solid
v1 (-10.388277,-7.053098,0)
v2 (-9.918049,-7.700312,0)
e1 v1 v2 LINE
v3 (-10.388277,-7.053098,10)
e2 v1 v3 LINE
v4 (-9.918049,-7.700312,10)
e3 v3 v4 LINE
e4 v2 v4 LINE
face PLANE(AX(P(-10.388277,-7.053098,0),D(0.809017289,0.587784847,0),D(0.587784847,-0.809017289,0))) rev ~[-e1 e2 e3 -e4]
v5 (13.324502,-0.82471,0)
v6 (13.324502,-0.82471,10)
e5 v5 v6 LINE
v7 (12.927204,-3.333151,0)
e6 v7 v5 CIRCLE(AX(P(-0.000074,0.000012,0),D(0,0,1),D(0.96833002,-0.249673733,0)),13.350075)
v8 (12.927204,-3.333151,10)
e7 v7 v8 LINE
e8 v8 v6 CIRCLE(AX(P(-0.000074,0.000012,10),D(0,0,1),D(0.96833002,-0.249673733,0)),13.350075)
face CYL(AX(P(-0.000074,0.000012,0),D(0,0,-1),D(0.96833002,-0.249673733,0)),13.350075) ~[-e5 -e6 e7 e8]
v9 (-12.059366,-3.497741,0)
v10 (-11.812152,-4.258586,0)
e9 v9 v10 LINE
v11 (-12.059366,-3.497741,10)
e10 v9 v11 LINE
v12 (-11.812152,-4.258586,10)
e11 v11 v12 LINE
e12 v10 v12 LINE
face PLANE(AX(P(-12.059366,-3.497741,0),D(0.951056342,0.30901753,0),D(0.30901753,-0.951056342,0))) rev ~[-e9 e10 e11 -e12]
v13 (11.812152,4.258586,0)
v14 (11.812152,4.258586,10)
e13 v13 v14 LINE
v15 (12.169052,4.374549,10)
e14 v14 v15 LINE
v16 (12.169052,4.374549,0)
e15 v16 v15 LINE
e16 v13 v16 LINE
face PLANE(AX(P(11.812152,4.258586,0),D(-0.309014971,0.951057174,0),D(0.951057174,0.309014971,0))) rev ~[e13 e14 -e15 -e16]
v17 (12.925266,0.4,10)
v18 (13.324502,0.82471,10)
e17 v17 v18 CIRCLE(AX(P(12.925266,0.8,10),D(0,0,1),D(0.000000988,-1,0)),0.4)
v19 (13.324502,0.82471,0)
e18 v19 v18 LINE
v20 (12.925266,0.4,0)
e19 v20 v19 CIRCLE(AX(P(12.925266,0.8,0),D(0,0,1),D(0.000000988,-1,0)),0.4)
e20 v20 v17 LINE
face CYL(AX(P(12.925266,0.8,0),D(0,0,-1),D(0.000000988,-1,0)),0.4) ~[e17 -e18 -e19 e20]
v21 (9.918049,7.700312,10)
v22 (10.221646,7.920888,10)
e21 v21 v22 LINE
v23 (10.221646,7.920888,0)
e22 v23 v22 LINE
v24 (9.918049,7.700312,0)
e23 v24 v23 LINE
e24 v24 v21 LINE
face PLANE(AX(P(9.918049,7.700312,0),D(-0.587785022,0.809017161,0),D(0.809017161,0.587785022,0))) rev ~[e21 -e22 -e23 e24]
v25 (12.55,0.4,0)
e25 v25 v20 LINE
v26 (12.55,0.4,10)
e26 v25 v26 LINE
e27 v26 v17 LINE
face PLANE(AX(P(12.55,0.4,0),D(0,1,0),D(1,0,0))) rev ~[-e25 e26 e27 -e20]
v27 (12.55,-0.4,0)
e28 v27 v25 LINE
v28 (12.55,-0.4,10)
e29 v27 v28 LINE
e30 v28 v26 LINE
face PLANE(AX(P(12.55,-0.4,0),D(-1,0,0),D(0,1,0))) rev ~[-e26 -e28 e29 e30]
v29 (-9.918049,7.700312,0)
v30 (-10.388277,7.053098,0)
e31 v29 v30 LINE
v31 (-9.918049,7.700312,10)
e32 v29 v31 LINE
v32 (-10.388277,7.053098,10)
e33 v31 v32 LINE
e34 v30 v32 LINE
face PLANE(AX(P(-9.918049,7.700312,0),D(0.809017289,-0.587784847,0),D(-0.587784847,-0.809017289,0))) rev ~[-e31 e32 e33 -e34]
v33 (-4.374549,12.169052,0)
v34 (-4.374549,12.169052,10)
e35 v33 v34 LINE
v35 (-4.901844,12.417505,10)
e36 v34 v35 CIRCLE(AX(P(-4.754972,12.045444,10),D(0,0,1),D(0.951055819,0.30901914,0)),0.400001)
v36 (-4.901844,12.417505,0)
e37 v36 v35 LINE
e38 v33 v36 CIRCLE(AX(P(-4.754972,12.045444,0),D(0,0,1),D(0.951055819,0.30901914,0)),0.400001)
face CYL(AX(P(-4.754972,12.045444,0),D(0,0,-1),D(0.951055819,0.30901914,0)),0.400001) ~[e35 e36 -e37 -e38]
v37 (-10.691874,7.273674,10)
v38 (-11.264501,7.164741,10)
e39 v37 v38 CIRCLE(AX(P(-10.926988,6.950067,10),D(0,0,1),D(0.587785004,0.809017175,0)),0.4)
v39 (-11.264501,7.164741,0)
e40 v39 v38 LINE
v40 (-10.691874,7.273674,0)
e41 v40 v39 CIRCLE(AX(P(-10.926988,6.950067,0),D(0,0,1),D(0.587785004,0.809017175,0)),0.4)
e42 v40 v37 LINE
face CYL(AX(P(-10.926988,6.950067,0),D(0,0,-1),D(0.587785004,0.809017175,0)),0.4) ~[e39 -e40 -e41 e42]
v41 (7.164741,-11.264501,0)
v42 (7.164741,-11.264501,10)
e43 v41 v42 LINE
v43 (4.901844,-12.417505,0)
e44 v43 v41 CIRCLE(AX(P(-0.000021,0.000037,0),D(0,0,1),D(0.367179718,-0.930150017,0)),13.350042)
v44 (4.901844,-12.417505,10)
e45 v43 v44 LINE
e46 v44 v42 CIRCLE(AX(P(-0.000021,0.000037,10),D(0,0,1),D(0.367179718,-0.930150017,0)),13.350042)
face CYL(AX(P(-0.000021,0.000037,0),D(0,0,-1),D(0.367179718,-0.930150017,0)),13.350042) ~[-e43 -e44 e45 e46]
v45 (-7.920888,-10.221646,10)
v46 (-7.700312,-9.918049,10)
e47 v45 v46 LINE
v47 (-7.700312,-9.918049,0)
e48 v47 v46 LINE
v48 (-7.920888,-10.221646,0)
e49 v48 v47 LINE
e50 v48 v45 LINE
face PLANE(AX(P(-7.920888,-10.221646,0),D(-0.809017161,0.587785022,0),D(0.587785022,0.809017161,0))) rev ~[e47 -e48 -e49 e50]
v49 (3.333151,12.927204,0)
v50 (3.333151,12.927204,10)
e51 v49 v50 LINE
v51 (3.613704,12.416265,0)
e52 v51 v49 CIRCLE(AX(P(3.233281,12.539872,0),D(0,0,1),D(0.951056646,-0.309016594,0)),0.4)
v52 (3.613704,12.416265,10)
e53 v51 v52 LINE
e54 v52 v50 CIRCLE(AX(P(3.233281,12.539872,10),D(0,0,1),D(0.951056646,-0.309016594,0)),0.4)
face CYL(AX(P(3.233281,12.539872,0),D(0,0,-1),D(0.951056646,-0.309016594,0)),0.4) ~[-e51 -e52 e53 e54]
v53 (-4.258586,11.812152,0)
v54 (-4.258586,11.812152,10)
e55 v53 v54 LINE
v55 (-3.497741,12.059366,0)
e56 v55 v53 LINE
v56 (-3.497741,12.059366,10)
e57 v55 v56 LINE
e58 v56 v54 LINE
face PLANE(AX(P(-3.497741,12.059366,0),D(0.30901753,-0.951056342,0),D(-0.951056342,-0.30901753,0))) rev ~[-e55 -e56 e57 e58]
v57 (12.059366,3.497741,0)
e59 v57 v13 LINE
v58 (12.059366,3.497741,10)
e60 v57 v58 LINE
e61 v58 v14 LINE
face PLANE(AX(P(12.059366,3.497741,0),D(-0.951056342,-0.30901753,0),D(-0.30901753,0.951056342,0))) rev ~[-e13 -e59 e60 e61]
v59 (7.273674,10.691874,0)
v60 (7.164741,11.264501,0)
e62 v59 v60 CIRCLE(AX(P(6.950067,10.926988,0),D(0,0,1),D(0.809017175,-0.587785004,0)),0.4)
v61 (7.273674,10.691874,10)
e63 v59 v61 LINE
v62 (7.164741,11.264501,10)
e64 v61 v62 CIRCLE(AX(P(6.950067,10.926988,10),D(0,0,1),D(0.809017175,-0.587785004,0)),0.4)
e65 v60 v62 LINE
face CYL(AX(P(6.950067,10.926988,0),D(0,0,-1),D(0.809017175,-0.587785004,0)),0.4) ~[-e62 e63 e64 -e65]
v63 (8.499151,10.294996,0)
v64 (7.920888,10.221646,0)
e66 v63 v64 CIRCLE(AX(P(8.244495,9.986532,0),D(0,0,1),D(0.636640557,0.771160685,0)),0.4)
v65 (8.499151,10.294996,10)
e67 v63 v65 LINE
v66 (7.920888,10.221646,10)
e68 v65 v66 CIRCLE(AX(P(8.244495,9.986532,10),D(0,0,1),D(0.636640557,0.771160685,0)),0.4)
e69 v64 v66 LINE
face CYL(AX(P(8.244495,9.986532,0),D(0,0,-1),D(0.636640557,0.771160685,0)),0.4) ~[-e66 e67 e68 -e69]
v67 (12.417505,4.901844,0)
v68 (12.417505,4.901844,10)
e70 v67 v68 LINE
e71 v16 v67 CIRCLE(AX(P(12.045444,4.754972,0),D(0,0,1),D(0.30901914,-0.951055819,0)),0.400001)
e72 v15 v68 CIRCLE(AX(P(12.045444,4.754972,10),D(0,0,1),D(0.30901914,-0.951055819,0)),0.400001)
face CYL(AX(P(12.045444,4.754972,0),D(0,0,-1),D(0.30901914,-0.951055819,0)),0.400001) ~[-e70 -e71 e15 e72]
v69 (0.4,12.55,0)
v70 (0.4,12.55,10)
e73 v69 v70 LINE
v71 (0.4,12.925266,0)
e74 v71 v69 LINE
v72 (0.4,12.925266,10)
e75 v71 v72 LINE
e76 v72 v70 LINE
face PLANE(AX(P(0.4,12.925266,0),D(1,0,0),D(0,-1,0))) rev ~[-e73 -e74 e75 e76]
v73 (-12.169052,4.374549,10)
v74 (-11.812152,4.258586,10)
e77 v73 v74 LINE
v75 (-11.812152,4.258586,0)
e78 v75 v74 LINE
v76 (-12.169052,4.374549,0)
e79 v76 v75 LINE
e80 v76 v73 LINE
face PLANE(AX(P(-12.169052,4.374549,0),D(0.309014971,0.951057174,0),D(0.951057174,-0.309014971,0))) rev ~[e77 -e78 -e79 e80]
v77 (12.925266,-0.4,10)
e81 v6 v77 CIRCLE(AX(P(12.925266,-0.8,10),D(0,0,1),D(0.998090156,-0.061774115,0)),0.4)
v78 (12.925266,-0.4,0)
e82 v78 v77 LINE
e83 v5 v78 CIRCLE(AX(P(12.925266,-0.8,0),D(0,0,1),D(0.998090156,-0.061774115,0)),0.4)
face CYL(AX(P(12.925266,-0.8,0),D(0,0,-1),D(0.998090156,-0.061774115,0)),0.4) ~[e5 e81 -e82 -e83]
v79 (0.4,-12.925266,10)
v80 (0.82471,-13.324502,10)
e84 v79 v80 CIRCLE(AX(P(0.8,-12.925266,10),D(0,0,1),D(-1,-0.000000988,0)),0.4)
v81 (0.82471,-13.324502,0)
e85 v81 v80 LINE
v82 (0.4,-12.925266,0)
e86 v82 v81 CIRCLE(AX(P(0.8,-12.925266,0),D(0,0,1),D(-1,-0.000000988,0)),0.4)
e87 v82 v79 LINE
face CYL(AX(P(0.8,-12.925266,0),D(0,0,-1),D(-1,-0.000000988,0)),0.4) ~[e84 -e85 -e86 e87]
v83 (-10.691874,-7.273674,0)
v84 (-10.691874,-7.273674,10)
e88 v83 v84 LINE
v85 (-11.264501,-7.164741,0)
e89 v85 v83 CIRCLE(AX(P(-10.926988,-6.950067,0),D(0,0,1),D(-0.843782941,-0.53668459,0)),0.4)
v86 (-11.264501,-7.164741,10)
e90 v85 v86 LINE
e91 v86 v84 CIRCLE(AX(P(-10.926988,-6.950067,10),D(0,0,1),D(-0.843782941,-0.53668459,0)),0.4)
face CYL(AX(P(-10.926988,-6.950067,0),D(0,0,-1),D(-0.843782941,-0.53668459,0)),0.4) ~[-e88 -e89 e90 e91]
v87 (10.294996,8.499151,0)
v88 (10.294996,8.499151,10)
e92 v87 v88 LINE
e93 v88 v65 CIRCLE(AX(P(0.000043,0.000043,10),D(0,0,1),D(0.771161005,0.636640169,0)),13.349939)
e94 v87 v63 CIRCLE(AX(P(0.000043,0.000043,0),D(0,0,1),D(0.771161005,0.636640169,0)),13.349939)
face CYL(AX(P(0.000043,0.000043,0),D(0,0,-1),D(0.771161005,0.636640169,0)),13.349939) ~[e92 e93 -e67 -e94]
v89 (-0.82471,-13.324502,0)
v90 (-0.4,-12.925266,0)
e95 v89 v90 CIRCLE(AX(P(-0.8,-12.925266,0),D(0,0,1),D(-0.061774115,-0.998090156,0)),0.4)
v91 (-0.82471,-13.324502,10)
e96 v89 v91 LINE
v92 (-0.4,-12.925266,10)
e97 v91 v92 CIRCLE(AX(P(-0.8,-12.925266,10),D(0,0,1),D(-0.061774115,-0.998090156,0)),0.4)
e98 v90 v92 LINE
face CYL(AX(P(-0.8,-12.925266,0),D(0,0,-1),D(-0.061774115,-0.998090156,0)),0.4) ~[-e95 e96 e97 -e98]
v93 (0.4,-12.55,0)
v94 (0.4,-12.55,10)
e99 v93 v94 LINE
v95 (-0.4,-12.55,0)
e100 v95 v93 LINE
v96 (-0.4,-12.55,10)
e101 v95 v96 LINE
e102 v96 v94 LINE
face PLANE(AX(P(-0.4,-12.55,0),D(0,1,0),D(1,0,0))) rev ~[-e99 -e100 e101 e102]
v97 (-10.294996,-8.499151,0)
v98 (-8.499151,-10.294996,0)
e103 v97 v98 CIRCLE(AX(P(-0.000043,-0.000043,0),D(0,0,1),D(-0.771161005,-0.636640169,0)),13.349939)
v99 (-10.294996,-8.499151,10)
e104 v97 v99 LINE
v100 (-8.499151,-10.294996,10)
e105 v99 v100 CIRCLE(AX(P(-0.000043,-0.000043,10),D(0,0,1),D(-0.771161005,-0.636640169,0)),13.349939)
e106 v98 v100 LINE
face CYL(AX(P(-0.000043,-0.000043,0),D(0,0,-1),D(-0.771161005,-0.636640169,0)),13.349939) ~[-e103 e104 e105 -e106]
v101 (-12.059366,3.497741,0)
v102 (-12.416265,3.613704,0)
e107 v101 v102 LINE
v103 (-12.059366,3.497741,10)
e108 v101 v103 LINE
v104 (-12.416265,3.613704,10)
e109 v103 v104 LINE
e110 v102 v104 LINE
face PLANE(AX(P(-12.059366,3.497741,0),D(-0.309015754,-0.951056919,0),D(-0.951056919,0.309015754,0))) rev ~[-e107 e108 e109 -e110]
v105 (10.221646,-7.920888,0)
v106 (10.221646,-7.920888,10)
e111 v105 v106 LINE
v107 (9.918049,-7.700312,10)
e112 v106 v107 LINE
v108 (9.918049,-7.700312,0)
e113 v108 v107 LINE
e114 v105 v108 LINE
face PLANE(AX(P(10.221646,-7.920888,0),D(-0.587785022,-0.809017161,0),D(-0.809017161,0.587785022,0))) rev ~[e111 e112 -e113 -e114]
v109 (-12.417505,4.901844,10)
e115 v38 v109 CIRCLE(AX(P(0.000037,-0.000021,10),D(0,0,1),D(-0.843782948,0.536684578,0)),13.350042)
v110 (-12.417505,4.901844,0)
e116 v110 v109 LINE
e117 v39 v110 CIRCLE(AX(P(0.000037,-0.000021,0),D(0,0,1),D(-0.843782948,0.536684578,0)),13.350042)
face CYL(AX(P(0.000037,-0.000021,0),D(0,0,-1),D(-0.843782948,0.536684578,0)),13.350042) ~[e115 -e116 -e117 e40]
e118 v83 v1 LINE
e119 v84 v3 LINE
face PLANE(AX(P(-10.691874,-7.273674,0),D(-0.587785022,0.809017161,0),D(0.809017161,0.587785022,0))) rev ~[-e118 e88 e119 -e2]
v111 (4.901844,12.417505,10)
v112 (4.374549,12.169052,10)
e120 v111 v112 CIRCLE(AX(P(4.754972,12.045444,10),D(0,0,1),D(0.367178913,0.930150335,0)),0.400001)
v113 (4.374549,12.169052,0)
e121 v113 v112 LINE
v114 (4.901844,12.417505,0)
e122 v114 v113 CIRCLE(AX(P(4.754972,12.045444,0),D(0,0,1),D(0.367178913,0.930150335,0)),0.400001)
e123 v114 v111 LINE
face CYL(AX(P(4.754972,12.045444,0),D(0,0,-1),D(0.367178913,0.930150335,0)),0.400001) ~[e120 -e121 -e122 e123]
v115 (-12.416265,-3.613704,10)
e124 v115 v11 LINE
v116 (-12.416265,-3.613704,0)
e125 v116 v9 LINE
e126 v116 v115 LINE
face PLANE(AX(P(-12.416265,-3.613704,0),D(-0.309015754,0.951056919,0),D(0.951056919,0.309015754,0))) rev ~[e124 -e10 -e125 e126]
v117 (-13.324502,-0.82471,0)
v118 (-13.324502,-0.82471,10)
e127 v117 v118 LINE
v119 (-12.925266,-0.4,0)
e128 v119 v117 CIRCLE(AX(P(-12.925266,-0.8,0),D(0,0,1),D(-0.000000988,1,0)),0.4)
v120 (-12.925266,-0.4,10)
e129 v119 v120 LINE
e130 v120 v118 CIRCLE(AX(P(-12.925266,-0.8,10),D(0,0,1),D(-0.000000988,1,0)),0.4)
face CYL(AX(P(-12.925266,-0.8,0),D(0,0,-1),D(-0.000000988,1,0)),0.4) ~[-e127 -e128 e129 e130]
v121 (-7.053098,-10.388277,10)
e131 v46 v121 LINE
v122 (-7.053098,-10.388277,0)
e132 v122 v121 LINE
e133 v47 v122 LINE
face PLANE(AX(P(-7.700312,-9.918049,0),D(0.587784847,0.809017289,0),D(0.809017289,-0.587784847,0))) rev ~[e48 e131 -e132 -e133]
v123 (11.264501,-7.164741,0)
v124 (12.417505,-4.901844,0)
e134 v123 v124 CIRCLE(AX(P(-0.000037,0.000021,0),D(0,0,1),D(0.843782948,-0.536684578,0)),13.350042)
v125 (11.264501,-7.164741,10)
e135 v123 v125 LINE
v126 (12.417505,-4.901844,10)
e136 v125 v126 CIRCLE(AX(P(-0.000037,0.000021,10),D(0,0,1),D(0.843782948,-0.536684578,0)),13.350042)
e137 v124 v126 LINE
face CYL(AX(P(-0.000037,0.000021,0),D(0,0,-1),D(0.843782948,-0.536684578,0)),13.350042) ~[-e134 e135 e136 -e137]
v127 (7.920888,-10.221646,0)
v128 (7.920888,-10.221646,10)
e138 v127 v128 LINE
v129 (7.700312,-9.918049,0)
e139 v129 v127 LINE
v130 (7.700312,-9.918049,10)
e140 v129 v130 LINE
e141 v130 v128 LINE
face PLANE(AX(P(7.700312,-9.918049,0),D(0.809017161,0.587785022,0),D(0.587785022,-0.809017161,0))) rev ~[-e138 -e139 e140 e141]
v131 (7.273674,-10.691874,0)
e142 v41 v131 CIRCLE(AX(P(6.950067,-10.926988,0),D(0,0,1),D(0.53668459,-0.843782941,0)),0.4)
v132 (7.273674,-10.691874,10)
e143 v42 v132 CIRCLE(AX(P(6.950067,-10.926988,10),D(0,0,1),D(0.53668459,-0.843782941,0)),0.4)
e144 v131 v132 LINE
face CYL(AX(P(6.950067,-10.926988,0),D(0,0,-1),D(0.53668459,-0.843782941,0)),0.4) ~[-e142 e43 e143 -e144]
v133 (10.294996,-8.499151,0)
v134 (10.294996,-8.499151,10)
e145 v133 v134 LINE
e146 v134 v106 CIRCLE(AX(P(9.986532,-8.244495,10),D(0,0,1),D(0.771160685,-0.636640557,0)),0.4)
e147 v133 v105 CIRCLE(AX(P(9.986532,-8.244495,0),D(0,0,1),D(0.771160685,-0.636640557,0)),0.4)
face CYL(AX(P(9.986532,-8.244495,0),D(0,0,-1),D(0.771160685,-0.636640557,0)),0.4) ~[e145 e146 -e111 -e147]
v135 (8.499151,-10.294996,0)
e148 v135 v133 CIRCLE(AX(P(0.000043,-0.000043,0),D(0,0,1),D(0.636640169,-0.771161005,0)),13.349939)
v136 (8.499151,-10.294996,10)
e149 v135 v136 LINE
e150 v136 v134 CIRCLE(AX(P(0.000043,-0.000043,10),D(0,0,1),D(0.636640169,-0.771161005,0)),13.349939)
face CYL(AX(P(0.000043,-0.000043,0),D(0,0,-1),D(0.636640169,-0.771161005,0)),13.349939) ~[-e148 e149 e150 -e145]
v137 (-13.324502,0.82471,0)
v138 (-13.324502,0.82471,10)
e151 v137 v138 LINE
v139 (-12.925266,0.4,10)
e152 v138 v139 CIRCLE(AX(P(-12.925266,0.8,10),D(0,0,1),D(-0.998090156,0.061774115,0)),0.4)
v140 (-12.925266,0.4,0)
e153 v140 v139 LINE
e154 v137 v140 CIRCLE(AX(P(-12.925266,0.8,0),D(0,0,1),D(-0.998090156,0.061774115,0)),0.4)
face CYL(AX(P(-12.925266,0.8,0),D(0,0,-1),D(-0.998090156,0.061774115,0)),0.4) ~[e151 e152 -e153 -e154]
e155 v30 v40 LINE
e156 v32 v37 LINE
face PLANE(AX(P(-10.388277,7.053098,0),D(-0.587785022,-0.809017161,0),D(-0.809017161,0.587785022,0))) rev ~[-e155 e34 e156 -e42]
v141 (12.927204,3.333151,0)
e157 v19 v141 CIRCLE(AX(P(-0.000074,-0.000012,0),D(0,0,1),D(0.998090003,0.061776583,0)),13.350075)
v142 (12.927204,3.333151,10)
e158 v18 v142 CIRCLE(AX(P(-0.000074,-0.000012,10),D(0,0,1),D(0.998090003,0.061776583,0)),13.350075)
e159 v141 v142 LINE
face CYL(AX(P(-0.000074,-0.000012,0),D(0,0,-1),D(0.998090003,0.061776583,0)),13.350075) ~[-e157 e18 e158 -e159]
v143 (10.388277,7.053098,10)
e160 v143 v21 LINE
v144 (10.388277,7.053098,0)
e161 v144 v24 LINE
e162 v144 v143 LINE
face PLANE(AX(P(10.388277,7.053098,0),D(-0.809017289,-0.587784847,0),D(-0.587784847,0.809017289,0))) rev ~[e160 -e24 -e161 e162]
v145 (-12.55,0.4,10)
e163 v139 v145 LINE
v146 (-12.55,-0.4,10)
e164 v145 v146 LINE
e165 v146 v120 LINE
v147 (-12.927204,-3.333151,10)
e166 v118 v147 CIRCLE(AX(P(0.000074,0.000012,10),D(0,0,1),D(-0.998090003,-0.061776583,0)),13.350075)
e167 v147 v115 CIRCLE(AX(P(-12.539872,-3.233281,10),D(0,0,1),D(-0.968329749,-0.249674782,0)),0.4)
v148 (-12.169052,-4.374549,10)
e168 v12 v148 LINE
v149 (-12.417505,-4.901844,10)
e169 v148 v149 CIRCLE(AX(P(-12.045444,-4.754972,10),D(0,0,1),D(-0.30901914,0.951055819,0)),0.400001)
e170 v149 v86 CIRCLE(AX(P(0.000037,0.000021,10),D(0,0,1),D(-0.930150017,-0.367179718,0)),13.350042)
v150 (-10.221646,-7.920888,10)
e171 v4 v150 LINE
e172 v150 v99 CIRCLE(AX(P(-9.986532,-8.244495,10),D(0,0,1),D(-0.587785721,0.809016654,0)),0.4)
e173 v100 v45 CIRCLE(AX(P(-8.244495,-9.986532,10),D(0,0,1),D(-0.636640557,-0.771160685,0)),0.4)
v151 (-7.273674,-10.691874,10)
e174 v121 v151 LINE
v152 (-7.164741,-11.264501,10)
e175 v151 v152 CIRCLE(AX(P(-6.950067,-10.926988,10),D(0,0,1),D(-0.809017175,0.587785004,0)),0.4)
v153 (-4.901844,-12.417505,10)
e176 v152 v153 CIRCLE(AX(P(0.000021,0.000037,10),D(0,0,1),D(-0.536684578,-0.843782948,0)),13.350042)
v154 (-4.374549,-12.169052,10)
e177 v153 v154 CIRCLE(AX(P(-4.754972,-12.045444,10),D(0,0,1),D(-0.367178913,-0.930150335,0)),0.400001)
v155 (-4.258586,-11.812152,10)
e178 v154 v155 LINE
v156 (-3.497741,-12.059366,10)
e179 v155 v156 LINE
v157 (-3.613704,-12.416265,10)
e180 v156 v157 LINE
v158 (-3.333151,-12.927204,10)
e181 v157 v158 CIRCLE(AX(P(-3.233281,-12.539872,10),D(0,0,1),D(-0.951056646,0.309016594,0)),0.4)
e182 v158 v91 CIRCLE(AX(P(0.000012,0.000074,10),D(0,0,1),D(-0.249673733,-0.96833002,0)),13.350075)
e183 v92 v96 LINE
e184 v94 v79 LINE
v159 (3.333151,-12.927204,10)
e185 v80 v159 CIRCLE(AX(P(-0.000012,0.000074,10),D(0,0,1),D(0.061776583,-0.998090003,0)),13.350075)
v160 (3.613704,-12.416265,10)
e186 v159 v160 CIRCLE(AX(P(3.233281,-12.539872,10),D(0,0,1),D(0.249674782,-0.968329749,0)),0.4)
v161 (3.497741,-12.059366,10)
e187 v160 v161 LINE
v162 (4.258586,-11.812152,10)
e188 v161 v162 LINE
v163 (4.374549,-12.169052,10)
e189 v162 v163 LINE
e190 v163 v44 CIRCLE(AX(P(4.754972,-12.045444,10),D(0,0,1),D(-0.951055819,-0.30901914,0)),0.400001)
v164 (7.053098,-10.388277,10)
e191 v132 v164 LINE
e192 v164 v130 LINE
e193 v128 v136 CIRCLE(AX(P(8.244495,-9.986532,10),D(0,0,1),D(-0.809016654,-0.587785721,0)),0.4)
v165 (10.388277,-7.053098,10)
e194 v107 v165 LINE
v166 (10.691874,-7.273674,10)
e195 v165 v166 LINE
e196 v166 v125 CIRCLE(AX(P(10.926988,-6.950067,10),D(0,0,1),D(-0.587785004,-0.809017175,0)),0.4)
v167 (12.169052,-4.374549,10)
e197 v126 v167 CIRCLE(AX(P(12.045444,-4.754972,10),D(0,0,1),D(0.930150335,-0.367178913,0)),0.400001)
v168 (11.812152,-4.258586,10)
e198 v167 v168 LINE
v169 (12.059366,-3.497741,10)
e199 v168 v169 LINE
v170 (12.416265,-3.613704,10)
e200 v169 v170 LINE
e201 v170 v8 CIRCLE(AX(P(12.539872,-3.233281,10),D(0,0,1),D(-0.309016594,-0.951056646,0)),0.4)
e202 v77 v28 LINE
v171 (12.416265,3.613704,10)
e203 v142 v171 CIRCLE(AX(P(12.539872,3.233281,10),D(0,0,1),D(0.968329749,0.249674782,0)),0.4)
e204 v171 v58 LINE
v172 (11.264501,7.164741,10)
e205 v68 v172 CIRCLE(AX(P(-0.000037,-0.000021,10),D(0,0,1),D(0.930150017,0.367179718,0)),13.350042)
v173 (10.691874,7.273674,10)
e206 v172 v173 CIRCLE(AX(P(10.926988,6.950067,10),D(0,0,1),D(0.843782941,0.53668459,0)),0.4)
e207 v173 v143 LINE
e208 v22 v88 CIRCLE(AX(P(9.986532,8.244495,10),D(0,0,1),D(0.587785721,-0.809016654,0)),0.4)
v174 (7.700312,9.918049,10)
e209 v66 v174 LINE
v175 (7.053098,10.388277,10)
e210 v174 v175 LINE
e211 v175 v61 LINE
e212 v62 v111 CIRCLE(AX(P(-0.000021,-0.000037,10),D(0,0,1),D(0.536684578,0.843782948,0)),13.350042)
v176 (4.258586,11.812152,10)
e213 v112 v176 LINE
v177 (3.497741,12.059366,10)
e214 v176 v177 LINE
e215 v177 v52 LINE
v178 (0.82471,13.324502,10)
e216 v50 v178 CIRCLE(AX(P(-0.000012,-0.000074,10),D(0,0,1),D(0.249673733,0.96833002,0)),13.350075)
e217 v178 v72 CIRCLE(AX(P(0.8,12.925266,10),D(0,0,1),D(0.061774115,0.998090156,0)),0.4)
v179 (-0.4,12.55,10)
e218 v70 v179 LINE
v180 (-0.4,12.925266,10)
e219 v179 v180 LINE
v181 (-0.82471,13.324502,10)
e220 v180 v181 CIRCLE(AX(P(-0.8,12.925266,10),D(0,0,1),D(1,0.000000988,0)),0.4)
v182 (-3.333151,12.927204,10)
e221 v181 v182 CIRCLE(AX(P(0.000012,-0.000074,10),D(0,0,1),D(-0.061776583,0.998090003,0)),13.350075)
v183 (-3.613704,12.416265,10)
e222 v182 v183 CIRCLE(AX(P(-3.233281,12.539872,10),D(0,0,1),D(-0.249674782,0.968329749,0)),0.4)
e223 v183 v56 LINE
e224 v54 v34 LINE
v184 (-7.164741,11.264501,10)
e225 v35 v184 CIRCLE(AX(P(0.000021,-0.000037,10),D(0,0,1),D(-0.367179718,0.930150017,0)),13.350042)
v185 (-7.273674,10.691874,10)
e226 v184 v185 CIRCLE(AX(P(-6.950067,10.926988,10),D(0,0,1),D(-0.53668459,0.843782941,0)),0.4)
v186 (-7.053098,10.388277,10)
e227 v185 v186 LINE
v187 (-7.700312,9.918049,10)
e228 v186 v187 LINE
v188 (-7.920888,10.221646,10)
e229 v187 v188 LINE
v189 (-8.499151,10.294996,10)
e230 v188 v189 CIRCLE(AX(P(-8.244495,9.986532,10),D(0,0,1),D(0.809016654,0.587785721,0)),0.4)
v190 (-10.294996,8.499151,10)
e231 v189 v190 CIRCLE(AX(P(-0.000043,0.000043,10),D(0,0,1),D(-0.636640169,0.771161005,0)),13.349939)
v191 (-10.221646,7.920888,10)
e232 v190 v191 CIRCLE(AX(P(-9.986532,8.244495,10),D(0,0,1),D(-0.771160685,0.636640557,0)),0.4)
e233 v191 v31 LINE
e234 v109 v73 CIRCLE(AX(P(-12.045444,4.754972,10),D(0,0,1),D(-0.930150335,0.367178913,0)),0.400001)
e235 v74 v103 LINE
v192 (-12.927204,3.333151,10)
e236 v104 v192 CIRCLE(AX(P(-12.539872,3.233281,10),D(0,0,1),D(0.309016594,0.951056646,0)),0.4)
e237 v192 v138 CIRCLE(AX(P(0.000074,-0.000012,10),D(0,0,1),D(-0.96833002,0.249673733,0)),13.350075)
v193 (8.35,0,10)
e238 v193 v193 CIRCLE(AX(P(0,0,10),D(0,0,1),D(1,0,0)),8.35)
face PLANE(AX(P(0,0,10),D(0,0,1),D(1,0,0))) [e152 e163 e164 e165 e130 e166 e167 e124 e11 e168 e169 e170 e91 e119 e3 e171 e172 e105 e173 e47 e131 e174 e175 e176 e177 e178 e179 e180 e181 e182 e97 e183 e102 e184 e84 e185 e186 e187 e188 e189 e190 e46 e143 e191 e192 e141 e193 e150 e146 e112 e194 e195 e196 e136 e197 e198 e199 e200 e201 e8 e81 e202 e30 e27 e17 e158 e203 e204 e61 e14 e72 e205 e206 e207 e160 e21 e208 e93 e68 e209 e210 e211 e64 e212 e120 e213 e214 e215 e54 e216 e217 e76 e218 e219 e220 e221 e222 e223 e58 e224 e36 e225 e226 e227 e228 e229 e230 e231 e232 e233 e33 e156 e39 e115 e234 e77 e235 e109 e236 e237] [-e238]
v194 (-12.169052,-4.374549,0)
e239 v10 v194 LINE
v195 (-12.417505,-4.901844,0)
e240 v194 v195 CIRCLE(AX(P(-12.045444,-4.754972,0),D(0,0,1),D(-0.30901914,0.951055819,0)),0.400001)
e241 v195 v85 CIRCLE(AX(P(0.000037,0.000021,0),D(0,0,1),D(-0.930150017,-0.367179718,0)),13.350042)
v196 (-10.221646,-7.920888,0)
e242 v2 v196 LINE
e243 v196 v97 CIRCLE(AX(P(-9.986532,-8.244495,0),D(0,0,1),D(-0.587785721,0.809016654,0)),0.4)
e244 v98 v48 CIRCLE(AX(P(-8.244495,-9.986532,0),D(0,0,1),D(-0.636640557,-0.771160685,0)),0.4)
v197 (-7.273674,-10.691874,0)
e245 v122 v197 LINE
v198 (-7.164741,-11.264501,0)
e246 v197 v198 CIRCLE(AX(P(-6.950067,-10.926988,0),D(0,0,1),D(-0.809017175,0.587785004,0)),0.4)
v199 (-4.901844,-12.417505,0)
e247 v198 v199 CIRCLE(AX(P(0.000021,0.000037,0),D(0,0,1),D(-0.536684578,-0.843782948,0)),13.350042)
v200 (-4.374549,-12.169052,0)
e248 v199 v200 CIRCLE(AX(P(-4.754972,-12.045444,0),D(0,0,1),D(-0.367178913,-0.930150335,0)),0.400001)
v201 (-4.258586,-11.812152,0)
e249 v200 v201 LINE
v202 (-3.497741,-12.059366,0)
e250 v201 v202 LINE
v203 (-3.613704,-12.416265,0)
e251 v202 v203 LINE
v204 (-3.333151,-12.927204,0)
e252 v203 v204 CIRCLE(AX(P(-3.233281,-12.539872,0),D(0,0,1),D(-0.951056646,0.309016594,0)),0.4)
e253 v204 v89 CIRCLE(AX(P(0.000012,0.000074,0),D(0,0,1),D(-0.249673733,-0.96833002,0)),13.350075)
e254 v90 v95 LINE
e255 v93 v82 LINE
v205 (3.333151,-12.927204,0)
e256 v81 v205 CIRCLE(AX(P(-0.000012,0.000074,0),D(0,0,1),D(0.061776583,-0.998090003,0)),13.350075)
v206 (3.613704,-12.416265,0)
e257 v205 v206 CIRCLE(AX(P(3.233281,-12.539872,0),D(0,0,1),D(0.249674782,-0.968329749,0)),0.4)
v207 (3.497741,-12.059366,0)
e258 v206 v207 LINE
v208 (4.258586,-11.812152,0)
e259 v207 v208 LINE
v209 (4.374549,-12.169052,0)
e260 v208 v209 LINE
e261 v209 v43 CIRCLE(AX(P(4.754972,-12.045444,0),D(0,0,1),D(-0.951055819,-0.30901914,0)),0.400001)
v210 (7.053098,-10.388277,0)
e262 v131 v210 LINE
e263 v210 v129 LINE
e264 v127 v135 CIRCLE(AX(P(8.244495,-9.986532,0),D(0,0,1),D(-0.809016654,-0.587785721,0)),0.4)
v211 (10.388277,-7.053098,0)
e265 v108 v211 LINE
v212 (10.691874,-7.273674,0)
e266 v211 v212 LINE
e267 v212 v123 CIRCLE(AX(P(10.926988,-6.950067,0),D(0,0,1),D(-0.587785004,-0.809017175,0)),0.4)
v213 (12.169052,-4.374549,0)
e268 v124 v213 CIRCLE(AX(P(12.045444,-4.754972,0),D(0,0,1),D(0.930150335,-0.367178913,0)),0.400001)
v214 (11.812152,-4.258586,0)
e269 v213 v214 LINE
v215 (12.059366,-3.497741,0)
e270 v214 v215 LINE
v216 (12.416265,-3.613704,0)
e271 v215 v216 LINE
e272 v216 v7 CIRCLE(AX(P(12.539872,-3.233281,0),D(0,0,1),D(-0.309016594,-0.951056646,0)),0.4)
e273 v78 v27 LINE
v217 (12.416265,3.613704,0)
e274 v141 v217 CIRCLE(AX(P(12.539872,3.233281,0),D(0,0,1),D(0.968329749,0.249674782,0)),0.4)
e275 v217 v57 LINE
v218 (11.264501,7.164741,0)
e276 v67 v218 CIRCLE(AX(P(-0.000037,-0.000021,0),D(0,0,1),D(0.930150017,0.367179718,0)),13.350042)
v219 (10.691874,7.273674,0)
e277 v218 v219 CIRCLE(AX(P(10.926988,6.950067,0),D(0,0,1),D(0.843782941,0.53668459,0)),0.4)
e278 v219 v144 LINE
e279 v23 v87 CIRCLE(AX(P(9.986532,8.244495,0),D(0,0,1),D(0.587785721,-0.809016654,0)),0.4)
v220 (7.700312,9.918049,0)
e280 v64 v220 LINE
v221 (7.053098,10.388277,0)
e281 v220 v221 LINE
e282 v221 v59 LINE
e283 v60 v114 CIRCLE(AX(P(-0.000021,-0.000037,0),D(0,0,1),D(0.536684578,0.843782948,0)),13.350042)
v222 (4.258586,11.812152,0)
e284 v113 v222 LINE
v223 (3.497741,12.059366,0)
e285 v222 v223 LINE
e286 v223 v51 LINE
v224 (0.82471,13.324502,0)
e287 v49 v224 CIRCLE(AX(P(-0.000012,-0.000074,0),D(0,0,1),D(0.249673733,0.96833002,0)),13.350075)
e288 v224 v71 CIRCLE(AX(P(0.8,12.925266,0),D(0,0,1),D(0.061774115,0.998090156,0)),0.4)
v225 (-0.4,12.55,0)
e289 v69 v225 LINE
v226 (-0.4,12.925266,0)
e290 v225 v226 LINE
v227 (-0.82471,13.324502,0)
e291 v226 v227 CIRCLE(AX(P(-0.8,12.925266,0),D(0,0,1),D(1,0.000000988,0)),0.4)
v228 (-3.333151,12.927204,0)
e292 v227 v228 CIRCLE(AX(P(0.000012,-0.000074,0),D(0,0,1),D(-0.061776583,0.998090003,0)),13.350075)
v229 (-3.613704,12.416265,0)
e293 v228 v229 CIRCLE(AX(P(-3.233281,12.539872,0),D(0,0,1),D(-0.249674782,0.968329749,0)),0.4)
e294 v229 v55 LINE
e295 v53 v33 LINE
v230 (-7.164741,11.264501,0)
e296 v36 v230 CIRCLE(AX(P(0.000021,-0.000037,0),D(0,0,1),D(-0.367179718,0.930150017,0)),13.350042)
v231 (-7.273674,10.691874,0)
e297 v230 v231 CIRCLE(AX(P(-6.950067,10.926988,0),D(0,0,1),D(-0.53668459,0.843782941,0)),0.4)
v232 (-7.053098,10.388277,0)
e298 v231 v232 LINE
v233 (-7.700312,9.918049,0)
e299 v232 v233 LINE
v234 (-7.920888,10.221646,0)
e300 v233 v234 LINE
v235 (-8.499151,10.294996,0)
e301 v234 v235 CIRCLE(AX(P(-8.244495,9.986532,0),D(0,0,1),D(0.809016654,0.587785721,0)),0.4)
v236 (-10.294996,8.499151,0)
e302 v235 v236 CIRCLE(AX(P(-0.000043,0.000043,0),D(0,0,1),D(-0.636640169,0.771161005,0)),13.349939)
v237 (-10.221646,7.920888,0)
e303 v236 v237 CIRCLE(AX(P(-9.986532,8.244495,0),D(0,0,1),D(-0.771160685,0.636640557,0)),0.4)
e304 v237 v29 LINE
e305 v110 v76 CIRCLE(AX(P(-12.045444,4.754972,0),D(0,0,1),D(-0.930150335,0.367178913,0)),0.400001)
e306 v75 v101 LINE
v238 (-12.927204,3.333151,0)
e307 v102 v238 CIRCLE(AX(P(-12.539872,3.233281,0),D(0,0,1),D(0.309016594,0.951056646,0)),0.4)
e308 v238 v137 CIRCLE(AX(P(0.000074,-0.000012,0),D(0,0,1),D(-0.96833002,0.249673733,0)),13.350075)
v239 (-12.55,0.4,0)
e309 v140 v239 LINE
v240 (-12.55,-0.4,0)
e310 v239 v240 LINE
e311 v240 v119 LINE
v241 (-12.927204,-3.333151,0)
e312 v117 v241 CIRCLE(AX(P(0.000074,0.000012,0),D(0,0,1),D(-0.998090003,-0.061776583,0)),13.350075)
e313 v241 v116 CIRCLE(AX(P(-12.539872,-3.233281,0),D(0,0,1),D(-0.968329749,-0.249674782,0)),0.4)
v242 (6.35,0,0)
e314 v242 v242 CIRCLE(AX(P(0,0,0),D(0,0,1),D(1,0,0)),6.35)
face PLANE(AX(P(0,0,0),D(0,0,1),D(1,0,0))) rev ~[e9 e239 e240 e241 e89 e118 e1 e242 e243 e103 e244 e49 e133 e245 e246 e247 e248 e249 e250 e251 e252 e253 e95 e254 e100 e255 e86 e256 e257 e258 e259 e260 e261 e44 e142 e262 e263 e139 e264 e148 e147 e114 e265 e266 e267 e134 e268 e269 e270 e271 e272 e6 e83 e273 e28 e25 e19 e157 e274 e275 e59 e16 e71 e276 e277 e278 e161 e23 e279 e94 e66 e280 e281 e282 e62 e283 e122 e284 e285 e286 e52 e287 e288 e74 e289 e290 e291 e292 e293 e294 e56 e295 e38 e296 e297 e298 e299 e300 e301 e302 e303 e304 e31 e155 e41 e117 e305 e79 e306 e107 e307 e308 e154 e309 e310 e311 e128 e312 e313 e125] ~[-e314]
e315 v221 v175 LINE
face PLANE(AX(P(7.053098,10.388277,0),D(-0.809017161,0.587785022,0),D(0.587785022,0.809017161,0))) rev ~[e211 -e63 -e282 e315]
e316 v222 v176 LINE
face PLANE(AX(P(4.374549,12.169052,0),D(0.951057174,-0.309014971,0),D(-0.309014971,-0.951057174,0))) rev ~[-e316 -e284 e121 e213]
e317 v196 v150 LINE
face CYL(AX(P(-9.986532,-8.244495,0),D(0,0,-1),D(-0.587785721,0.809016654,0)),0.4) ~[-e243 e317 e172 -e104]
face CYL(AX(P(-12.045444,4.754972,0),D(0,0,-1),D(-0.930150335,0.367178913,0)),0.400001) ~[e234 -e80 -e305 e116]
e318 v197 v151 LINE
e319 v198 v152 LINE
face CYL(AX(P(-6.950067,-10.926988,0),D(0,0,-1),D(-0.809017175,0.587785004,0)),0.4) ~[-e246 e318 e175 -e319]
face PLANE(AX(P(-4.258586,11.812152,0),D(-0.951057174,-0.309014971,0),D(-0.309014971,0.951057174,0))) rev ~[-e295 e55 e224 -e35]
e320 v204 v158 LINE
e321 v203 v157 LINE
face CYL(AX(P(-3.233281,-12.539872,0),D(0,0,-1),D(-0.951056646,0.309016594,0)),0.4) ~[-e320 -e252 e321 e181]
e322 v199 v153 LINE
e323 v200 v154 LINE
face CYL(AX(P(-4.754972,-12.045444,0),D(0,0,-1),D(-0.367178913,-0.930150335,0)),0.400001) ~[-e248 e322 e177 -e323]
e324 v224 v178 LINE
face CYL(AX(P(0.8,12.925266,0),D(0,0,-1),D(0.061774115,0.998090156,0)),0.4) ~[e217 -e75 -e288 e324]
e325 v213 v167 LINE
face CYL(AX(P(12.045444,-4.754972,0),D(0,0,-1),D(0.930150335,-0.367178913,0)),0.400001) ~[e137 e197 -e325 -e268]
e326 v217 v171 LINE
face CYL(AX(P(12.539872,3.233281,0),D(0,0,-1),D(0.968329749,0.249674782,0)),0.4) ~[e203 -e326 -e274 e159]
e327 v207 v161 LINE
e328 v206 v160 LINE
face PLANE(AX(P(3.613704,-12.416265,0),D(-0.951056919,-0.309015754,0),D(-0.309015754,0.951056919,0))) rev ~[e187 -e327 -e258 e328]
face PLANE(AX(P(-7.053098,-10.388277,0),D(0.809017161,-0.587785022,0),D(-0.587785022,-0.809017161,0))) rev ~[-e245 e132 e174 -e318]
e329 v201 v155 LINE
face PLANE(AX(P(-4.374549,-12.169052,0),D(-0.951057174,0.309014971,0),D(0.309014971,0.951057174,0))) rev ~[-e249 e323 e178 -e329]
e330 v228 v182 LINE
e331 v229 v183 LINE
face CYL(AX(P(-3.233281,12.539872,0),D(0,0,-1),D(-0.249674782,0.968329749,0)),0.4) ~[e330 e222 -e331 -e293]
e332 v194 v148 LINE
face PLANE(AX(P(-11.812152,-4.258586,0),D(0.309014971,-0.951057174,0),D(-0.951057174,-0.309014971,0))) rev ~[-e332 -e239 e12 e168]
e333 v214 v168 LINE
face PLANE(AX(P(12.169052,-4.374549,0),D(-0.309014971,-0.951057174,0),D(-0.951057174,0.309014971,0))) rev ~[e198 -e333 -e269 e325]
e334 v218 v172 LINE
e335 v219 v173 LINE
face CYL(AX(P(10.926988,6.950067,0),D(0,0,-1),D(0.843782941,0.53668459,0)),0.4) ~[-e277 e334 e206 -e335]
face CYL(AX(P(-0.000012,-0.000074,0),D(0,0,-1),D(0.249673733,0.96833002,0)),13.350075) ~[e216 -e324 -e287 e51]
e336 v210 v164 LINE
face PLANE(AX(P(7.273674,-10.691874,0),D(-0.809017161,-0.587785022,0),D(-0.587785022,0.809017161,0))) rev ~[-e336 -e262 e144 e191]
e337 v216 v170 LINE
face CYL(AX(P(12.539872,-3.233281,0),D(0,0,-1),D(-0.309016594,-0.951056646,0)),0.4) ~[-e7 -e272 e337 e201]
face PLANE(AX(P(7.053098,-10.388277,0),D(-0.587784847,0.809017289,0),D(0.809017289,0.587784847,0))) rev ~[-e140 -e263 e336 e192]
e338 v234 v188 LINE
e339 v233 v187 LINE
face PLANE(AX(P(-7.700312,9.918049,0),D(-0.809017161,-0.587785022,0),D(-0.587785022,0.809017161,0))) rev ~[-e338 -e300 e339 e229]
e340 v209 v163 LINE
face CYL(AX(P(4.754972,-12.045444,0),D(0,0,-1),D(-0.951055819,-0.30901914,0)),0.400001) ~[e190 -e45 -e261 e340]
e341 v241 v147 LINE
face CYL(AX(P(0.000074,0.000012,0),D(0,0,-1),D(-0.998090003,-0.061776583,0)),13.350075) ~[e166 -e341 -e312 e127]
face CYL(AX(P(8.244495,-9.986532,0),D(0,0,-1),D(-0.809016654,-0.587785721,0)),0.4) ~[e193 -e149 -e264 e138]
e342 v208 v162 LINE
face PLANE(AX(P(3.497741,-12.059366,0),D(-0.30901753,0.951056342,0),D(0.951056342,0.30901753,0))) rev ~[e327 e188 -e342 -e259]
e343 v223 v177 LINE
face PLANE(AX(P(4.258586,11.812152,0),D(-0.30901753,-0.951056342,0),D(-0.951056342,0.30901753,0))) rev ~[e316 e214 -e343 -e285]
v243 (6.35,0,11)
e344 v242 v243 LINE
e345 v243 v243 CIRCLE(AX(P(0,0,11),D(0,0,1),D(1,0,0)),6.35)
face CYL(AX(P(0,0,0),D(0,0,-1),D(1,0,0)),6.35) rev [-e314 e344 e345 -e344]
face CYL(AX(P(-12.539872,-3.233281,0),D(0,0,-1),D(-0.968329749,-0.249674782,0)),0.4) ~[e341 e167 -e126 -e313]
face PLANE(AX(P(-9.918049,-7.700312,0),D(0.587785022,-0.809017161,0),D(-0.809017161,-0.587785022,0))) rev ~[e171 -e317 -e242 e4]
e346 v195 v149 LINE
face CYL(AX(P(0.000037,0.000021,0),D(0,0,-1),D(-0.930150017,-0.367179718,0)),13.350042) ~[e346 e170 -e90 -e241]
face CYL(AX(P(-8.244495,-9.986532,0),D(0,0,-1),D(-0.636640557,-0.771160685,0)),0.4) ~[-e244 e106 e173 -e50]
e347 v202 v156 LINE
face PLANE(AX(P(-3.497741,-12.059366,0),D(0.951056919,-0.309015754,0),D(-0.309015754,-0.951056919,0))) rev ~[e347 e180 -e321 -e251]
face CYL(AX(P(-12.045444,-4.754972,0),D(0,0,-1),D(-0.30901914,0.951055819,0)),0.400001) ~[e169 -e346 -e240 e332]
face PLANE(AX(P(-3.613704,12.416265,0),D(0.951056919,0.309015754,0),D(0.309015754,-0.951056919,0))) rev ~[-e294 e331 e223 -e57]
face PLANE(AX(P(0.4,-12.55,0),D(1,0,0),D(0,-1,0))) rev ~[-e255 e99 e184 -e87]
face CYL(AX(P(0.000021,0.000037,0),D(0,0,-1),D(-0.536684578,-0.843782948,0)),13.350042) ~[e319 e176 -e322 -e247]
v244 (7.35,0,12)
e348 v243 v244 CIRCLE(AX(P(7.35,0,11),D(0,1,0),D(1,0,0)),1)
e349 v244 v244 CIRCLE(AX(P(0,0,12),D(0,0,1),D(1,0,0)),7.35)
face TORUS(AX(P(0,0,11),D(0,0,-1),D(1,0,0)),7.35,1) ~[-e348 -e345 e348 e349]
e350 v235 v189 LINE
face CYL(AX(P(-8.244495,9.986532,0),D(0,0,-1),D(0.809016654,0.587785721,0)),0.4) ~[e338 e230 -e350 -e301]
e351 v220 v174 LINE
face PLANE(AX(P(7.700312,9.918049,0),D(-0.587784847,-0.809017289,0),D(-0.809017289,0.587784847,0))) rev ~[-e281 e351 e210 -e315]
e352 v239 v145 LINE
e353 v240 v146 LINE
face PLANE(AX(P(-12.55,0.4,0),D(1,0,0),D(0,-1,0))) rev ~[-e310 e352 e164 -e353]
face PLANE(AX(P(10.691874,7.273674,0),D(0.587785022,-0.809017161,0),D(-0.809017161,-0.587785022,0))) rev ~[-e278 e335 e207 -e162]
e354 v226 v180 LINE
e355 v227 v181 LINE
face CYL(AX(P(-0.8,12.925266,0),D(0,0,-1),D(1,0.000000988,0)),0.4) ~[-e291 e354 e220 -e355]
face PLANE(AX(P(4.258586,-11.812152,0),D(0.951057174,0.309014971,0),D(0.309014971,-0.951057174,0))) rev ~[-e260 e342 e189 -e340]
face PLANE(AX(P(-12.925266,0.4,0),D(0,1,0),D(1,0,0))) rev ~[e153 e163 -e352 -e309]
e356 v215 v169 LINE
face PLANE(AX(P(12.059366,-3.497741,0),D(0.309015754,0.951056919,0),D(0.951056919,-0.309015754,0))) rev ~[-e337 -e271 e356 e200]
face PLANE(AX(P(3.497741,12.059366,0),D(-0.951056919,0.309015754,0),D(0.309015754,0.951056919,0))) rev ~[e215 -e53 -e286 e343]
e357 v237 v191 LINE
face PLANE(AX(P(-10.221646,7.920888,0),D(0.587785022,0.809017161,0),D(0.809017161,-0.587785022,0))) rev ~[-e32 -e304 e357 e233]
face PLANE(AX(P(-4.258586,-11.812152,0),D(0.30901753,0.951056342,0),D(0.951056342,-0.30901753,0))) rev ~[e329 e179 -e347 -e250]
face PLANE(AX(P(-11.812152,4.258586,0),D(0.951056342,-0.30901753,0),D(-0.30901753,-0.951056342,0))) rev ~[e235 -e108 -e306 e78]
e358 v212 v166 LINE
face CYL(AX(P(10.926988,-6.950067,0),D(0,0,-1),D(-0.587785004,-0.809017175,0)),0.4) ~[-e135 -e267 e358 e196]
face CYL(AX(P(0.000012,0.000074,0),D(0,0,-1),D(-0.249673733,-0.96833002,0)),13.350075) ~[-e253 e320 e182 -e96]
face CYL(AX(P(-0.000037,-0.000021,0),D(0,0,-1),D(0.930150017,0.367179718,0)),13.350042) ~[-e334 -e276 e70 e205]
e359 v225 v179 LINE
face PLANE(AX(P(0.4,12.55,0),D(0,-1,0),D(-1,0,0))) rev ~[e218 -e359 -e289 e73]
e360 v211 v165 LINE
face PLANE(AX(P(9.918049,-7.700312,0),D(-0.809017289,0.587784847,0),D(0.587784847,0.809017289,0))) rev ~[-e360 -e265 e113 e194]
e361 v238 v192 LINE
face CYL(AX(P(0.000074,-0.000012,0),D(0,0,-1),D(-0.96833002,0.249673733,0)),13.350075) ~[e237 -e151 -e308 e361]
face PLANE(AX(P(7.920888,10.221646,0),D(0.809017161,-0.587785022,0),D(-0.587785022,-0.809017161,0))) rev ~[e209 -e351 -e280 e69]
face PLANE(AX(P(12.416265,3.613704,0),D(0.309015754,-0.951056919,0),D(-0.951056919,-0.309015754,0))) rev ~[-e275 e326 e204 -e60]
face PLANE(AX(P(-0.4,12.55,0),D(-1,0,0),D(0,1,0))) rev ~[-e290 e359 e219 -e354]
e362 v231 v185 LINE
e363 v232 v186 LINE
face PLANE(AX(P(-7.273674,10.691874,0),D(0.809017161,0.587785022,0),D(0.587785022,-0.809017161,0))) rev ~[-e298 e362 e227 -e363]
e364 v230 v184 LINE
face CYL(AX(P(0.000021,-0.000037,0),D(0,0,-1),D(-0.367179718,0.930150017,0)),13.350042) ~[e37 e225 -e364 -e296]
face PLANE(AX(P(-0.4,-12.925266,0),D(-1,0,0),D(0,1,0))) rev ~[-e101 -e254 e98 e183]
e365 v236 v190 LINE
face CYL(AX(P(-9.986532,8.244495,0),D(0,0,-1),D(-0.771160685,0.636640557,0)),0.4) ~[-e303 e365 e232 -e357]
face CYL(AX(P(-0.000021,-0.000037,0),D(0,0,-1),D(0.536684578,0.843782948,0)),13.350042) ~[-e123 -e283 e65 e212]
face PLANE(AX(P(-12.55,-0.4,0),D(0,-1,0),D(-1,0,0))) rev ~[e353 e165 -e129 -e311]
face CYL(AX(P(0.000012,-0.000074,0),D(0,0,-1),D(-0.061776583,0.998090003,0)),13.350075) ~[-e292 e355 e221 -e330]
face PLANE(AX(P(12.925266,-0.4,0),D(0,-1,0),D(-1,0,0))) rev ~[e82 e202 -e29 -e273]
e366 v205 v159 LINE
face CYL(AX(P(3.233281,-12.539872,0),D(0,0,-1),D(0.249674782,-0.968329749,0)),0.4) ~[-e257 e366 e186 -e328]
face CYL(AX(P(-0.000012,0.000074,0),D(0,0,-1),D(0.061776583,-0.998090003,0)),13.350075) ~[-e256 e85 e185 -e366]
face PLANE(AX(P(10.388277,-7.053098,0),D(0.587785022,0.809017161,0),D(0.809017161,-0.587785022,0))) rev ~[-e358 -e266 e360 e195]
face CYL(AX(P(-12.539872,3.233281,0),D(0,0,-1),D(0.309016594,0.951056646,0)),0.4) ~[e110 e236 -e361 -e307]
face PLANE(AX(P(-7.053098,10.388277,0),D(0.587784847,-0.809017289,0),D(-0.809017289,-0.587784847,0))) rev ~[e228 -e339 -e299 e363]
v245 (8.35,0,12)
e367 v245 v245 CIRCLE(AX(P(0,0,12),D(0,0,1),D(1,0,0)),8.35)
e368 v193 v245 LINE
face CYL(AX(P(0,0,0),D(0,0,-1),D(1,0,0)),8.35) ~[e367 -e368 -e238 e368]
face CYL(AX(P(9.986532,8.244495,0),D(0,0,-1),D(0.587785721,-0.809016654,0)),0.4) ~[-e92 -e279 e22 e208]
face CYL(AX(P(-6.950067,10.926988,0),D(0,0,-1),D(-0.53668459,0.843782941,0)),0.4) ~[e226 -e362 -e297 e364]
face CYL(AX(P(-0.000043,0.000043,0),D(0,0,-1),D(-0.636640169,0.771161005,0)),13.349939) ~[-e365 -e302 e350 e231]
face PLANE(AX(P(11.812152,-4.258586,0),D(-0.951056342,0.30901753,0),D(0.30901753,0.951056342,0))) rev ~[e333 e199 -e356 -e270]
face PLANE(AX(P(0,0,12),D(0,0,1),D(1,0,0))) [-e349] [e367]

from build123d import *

# Parameters (mm, degrees)
F0_R     = 8.35
F0_R_2   = 6.35
F1_DEPTH = 12
F2_DEPTH = 10
F3_R     = 1


with BuildPart() as f1:
    # F0 (on Top) → F1 (new body)
    with BuildSketch(Plane.XY):
        Circle(F0_R)
        Circle(F0_R_2, mode=Mode.SUBTRACT)
    extrude(amount=F1_DEPTH)

    # F0 (on Top) → F2 (join)
    with BuildSketch(Plane.XY):
        with BuildLine():
            ThreePointArc((12.925266, 0.4), (13.216714, 0.526033), (13.324502, 0.82471))
            ThreePointArc((13.324502, 0.82471), (13.185639, 2.0884), (12.927204, 3.333151))
            ThreePointArc((12.927204, 3.333151), (12.732395, 3.583902), (12.416265, 3.613704))
            Line((12.416265, 3.613704), (12.059366, 3.497741))
            Line((12.059366, 3.497741), (11.812152, 4.258586))
            Line((11.812152, 4.258586), (12.169052, 4.374549))
            ThreePointArc((12.169052, 4.374549), (12.407289, 4.584476), (12.417505, 4.901844))
            ThreePointArc((12.417505, 4.901844), (11.894937, 6.060773), (11.264501, 7.164741))
            ThreePointArc((11.264501, 7.164741), (11.001741, 7.34302), (10.691874, 7.273674))
            Line((10.691874, 7.273674), (10.388277, 7.053098))
            Line((10.388277, 7.053098), (9.918049, 7.700312))
            Line((9.918049, 7.700312), (10.221646, 7.920888))
            ThreePointArc((10.221646, 7.920888), (10.383352, 8.194159), (10.294996, 8.499151))
            ThreePointArc((10.294996, 8.499151), (9.439876, 9.439876), (8.499151, 10.294996))
            ThreePointArc((8.499151, 10.294996), (8.194159, 10.383352), (7.920888, 10.221646))
            Line((7.920888, 10.221646), (7.700312, 9.918049))
            Line((7.700312, 9.918049), (7.053098, 10.388277))
            Line((7.053098, 10.388277), (7.273674, 10.691874))
            ThreePointArc((7.273674, 10.691874), (7.34302, 11.001741), (7.164741, 11.264501))
            ThreePointArc((7.164741, 11.264501), (6.060773, 11.894937), (4.901844, 12.417505))
            ThreePointArc((4.901844, 12.417505), (4.584476, 12.407289), (4.374549, 12.169052))
            Line((4.374549, 12.169052), (4.258586, 11.812152))
            Line((4.258586, 11.812152), (3.497741, 12.059366))
            Line((3.497741, 12.059366), (3.613704, 12.416265))
            ThreePointArc((3.613704, 12.416265), (3.583902, 12.732395), (3.333151, 12.927204))
            ThreePointArc((3.333151, 12.927204), (2.0884, 13.185639), (0.82471, 13.324502))
            ThreePointArc((0.82471, 13.324502), (0.526033, 13.216714), (0.4, 12.925266))
            Line((0.4, 12.925266), (0.4, 12.55))
            Line((0.4, 12.55), (-0.4, 12.55))
            Line((-0.4, 12.55), (-0.4, 12.925266))
            ThreePointArc((-0.4, 12.925266), (-0.526033, 13.216714), (-0.82471, 13.324502))
            ThreePointArc((-0.82471, 13.324502), (-2.0884, 13.185639), (-3.333151, 12.927204))
            ThreePointArc((-3.333151, 12.927204), (-3.583902, 12.732395), (-3.613704, 12.416265))
            Line((-3.613704, 12.416265), (-3.497741, 12.059366))
            Line((-3.497741, 12.059366), (-4.258586, 11.812152))
            Line((-4.258586, 11.812152), (-4.374549, 12.169052))
            ThreePointArc((-4.374549, 12.169052), (-4.584476, 12.407289), (-4.901844, 12.417505))
            ThreePointArc((-4.901844, 12.417505), (-6.060773, 11.894937), (-7.164741, 11.264501))
            ThreePointArc((-7.164741, 11.264501), (-7.34302, 11.001741), (-7.273674, 10.691874))
            Line((-7.273674, 10.691874), (-7.053098, 10.388277))
            Line((-7.053098, 10.388277), (-7.700312, 9.918049))
            Line((-7.700312, 9.918049), (-7.920888, 10.221646))
            ThreePointArc((-7.920888, 10.221646), (-8.194159, 10.383352), (-8.499151, 10.294996))
            ThreePointArc((-8.499151, 10.294996), (-9.439876, 9.439876), (-10.294996, 8.499151))
            ThreePointArc((-10.294996, 8.499151), (-10.383352, 8.194159), (-10.221646, 7.920888))
            Line((-10.221646, 7.920888), (-9.918049, 7.700312))
            Line((-9.918049, 7.700312), (-10.388277, 7.053098))
            Line((-10.388277, 7.053098), (-10.691874, 7.273674))
            ThreePointArc((-10.691874, 7.273674), (-11.001741, 7.34302), (-11.264501, 7.164741))
            ThreePointArc((-11.264501, 7.164741), (-11.894937, 6.060773), (-12.417505, 4.901844))
            ThreePointArc((-12.417505, 4.901844), (-12.407289, 4.584476), (-12.169052, 4.374549))
            Line((-12.169052, 4.374549), (-11.812152, 4.258586))
            Line((-11.812152, 4.258586), (-12.059366, 3.497741))
            Line((-12.059366, 3.497741), (-12.416265, 3.613704))
            ThreePointArc((-12.416265, 3.613704), (-12.732395, 3.583902), (-12.927204, 3.333151))
            ThreePointArc((-12.927204, 3.333151), (-13.185639, 2.0884), (-13.324502, 0.82471))
            ThreePointArc((-13.324502, 0.82471), (-13.216714, 0.526033), (-12.925266, 0.4))
            Line((-12.925266, 0.4), (-12.55, 0.4))
            Line((-12.55, 0.4), (-12.55, -0.4))
            Line((-12.55, -0.4), (-12.925266, -0.4))
            ThreePointArc((-12.925266, -0.4), (-13.216714, -0.526033), (-13.324502, -0.82471))
            ThreePointArc((-13.324502, -0.82471), (-13.185639, -2.0884), (-12.927204, -3.333151))
            ThreePointArc((-12.927204, -3.333151), (-12.732395, -3.583902), (-12.416265, -3.613704))
            Line((-12.416265, -3.613704), (-12.059366, -3.497741))
            Line((-12.059366, -3.497741), (-11.812152, -4.258586))
            Line((-11.812152, -4.258586), (-12.169052, -4.374549))
            ThreePointArc((-12.169052, -4.374549), (-12.407289, -4.584476), (-12.417505, -4.901844))
            ThreePointArc((-12.417505, -4.901844), (-11.894937, -6.060773), (-11.264501, -7.164741))
            ThreePointArc((-11.264501, -7.164741), (-11.001741, -7.34302), (-10.691874, -7.273674))
            Line((-10.691874, -7.273674), (-10.388277, -7.053098))
            Line((-10.388277, -7.053098), (-9.918049, -7.700312))
            Line((-9.918049, -7.700312), (-10.221646, -7.920888))
            ThreePointArc((-10.221646, -7.920888), (-10.383352, -8.194159), (-10.294996, -8.499151))
            ThreePointArc((-10.294996, -8.499151), (-9.439876, -9.439876), (-8.499151, -10.294996))
            ThreePointArc((-8.499151, -10.294996), (-8.194159, -10.383352), (-7.920888, -10.221646))
            Line((-7.920888, -10.221646), (-7.700312, -9.918049))
            Line((-7.700312, -9.918049), (-7.053098, -10.388277))
            Line((-7.053098, -10.388277), (-7.273674, -10.691874))
            ThreePointArc((-7.273674, -10.691874), (-7.34302, -11.001741), (-7.164741, -11.264501))
            ThreePointArc((-7.164741, -11.264501), (-6.060773, -11.894937), (-4.901844, -12.417505))
            ThreePointArc((-4.901844, -12.417505), (-4.584476, -12.407289), (-4.374549, -12.169052))
            Line((-4.374549, -12.169052), (-4.258586, -11.812152))
            Line((-4.258586, -11.812152), (-3.497741, -12.059366))
            Line((-3.497741, -12.059366), (-3.613704, -12.416265))
            ThreePointArc((-3.613704, -12.416265), (-3.583902, -12.732395), (-3.333151, -12.927204))
            ThreePointArc((-3.333151, -12.927204), (-2.0884, -13.185639), (-0.82471, -13.324502))
            ThreePointArc((-0.82471, -13.324502), (-0.526033, -13.216714), (-0.4, -12.925266))
            Line((-0.4, -12.925266), (-0.4, -12.55))
            Line((-0.4, -12.55), (0.4, -12.55))
            Line((0.4, -12.55), (0.4, -12.925266))
            ThreePointArc((0.4, -12.925266), (0.526033, -13.216714), (0.82471, -13.324502))
            ThreePointArc((0.82471, -13.324502), (2.0884, -13.185639), (3.333151, -12.927204))
            ThreePointArc((3.333151, -12.927204), (3.583902, -12.732395), (3.613704, -12.416265))
            Line((3.613704, -12.416265), (3.497741, -12.059366))
            Line((3.497741, -12.059366), (4.258586, -11.812152))
            Line((4.258586, -11.812152), (4.374549, -12.169052))
            ThreePointArc((4.374549, -12.169052), (4.584476, -12.407289), (4.901844, -12.417505))
            ThreePointArc((4.901844, -12.417505), (6.060773, -11.894937), (7.164741, -11.264501))
            ThreePointArc((7.164741, -11.264501), (7.34302, -11.001741), (7.273674, -10.691874))
            Line((7.273674, -10.691874), (7.053098, -10.388277))
            Line((7.053098, -10.388277), (7.700312, -9.918049))
            Line((7.700312, -9.918049), (7.920888, -10.221646))
            ThreePointArc((7.920888, -10.221646), (8.194159, -10.383352), (8.499151, -10.294996))
            ThreePointArc((8.499151, -10.294996), (9.439876, -9.439876), (10.294996, -8.499151))
            ThreePointArc((10.294996, -8.499151), (10.383352, -8.194159), (10.221646, -7.920888))
            Line((10.221646, -7.920888), (9.918049, -7.700312))
            Line((9.918049, -7.700312), (10.388277, -7.053098))
            Line((10.388277, -7.053098), (10.691874, -7.273674))
            ThreePointArc((10.691874, -7.273674), (11.001741, -7.34302), (11.264501, -7.164741))
            ThreePointArc((11.264501, -7.164741), (11.894937, -6.060773), (12.417505, -4.901844))
            ThreePointArc((12.417505, -4.901844), (12.407289, -4.584476), (12.169052, -4.374549))
            Line((12.169052, -4.374549), (11.812152, -4.258586))
            Line((11.812152, -4.258586), (12.059366, -3.497741))
            Line((12.059366, -3.497741), (12.416265, -3.613704))
            ThreePointArc((12.416265, -3.613704), (12.732395, -3.583902), (12.927204, -3.333151))
            ThreePointArc((12.927204, -3.333151), (13.185639, -2.0884), (13.324502, -0.82471))
            ThreePointArc((13.324502, -0.82471), (13.216714, -0.526033), (12.925266, -0.4))
            Line((12.925266, -0.4), (12.55, -0.4))
            Line((12.55, -0.4), (12.55, 0.4))
            Line((12.55, 0.4), (12.925266, 0.4))
        make_face()
        Circle(F0_R, mode=Mode.SUBTRACT)
    extrude(amount=F2_DEPTH)

    # F3
    f3_edges = [f1.edges().sort_by_distance(p)[0] for p in [
        (-6.35, 0, 12),
    ]]
    fillet(f3_edges, radius=F3_R)


solid = f1.part
